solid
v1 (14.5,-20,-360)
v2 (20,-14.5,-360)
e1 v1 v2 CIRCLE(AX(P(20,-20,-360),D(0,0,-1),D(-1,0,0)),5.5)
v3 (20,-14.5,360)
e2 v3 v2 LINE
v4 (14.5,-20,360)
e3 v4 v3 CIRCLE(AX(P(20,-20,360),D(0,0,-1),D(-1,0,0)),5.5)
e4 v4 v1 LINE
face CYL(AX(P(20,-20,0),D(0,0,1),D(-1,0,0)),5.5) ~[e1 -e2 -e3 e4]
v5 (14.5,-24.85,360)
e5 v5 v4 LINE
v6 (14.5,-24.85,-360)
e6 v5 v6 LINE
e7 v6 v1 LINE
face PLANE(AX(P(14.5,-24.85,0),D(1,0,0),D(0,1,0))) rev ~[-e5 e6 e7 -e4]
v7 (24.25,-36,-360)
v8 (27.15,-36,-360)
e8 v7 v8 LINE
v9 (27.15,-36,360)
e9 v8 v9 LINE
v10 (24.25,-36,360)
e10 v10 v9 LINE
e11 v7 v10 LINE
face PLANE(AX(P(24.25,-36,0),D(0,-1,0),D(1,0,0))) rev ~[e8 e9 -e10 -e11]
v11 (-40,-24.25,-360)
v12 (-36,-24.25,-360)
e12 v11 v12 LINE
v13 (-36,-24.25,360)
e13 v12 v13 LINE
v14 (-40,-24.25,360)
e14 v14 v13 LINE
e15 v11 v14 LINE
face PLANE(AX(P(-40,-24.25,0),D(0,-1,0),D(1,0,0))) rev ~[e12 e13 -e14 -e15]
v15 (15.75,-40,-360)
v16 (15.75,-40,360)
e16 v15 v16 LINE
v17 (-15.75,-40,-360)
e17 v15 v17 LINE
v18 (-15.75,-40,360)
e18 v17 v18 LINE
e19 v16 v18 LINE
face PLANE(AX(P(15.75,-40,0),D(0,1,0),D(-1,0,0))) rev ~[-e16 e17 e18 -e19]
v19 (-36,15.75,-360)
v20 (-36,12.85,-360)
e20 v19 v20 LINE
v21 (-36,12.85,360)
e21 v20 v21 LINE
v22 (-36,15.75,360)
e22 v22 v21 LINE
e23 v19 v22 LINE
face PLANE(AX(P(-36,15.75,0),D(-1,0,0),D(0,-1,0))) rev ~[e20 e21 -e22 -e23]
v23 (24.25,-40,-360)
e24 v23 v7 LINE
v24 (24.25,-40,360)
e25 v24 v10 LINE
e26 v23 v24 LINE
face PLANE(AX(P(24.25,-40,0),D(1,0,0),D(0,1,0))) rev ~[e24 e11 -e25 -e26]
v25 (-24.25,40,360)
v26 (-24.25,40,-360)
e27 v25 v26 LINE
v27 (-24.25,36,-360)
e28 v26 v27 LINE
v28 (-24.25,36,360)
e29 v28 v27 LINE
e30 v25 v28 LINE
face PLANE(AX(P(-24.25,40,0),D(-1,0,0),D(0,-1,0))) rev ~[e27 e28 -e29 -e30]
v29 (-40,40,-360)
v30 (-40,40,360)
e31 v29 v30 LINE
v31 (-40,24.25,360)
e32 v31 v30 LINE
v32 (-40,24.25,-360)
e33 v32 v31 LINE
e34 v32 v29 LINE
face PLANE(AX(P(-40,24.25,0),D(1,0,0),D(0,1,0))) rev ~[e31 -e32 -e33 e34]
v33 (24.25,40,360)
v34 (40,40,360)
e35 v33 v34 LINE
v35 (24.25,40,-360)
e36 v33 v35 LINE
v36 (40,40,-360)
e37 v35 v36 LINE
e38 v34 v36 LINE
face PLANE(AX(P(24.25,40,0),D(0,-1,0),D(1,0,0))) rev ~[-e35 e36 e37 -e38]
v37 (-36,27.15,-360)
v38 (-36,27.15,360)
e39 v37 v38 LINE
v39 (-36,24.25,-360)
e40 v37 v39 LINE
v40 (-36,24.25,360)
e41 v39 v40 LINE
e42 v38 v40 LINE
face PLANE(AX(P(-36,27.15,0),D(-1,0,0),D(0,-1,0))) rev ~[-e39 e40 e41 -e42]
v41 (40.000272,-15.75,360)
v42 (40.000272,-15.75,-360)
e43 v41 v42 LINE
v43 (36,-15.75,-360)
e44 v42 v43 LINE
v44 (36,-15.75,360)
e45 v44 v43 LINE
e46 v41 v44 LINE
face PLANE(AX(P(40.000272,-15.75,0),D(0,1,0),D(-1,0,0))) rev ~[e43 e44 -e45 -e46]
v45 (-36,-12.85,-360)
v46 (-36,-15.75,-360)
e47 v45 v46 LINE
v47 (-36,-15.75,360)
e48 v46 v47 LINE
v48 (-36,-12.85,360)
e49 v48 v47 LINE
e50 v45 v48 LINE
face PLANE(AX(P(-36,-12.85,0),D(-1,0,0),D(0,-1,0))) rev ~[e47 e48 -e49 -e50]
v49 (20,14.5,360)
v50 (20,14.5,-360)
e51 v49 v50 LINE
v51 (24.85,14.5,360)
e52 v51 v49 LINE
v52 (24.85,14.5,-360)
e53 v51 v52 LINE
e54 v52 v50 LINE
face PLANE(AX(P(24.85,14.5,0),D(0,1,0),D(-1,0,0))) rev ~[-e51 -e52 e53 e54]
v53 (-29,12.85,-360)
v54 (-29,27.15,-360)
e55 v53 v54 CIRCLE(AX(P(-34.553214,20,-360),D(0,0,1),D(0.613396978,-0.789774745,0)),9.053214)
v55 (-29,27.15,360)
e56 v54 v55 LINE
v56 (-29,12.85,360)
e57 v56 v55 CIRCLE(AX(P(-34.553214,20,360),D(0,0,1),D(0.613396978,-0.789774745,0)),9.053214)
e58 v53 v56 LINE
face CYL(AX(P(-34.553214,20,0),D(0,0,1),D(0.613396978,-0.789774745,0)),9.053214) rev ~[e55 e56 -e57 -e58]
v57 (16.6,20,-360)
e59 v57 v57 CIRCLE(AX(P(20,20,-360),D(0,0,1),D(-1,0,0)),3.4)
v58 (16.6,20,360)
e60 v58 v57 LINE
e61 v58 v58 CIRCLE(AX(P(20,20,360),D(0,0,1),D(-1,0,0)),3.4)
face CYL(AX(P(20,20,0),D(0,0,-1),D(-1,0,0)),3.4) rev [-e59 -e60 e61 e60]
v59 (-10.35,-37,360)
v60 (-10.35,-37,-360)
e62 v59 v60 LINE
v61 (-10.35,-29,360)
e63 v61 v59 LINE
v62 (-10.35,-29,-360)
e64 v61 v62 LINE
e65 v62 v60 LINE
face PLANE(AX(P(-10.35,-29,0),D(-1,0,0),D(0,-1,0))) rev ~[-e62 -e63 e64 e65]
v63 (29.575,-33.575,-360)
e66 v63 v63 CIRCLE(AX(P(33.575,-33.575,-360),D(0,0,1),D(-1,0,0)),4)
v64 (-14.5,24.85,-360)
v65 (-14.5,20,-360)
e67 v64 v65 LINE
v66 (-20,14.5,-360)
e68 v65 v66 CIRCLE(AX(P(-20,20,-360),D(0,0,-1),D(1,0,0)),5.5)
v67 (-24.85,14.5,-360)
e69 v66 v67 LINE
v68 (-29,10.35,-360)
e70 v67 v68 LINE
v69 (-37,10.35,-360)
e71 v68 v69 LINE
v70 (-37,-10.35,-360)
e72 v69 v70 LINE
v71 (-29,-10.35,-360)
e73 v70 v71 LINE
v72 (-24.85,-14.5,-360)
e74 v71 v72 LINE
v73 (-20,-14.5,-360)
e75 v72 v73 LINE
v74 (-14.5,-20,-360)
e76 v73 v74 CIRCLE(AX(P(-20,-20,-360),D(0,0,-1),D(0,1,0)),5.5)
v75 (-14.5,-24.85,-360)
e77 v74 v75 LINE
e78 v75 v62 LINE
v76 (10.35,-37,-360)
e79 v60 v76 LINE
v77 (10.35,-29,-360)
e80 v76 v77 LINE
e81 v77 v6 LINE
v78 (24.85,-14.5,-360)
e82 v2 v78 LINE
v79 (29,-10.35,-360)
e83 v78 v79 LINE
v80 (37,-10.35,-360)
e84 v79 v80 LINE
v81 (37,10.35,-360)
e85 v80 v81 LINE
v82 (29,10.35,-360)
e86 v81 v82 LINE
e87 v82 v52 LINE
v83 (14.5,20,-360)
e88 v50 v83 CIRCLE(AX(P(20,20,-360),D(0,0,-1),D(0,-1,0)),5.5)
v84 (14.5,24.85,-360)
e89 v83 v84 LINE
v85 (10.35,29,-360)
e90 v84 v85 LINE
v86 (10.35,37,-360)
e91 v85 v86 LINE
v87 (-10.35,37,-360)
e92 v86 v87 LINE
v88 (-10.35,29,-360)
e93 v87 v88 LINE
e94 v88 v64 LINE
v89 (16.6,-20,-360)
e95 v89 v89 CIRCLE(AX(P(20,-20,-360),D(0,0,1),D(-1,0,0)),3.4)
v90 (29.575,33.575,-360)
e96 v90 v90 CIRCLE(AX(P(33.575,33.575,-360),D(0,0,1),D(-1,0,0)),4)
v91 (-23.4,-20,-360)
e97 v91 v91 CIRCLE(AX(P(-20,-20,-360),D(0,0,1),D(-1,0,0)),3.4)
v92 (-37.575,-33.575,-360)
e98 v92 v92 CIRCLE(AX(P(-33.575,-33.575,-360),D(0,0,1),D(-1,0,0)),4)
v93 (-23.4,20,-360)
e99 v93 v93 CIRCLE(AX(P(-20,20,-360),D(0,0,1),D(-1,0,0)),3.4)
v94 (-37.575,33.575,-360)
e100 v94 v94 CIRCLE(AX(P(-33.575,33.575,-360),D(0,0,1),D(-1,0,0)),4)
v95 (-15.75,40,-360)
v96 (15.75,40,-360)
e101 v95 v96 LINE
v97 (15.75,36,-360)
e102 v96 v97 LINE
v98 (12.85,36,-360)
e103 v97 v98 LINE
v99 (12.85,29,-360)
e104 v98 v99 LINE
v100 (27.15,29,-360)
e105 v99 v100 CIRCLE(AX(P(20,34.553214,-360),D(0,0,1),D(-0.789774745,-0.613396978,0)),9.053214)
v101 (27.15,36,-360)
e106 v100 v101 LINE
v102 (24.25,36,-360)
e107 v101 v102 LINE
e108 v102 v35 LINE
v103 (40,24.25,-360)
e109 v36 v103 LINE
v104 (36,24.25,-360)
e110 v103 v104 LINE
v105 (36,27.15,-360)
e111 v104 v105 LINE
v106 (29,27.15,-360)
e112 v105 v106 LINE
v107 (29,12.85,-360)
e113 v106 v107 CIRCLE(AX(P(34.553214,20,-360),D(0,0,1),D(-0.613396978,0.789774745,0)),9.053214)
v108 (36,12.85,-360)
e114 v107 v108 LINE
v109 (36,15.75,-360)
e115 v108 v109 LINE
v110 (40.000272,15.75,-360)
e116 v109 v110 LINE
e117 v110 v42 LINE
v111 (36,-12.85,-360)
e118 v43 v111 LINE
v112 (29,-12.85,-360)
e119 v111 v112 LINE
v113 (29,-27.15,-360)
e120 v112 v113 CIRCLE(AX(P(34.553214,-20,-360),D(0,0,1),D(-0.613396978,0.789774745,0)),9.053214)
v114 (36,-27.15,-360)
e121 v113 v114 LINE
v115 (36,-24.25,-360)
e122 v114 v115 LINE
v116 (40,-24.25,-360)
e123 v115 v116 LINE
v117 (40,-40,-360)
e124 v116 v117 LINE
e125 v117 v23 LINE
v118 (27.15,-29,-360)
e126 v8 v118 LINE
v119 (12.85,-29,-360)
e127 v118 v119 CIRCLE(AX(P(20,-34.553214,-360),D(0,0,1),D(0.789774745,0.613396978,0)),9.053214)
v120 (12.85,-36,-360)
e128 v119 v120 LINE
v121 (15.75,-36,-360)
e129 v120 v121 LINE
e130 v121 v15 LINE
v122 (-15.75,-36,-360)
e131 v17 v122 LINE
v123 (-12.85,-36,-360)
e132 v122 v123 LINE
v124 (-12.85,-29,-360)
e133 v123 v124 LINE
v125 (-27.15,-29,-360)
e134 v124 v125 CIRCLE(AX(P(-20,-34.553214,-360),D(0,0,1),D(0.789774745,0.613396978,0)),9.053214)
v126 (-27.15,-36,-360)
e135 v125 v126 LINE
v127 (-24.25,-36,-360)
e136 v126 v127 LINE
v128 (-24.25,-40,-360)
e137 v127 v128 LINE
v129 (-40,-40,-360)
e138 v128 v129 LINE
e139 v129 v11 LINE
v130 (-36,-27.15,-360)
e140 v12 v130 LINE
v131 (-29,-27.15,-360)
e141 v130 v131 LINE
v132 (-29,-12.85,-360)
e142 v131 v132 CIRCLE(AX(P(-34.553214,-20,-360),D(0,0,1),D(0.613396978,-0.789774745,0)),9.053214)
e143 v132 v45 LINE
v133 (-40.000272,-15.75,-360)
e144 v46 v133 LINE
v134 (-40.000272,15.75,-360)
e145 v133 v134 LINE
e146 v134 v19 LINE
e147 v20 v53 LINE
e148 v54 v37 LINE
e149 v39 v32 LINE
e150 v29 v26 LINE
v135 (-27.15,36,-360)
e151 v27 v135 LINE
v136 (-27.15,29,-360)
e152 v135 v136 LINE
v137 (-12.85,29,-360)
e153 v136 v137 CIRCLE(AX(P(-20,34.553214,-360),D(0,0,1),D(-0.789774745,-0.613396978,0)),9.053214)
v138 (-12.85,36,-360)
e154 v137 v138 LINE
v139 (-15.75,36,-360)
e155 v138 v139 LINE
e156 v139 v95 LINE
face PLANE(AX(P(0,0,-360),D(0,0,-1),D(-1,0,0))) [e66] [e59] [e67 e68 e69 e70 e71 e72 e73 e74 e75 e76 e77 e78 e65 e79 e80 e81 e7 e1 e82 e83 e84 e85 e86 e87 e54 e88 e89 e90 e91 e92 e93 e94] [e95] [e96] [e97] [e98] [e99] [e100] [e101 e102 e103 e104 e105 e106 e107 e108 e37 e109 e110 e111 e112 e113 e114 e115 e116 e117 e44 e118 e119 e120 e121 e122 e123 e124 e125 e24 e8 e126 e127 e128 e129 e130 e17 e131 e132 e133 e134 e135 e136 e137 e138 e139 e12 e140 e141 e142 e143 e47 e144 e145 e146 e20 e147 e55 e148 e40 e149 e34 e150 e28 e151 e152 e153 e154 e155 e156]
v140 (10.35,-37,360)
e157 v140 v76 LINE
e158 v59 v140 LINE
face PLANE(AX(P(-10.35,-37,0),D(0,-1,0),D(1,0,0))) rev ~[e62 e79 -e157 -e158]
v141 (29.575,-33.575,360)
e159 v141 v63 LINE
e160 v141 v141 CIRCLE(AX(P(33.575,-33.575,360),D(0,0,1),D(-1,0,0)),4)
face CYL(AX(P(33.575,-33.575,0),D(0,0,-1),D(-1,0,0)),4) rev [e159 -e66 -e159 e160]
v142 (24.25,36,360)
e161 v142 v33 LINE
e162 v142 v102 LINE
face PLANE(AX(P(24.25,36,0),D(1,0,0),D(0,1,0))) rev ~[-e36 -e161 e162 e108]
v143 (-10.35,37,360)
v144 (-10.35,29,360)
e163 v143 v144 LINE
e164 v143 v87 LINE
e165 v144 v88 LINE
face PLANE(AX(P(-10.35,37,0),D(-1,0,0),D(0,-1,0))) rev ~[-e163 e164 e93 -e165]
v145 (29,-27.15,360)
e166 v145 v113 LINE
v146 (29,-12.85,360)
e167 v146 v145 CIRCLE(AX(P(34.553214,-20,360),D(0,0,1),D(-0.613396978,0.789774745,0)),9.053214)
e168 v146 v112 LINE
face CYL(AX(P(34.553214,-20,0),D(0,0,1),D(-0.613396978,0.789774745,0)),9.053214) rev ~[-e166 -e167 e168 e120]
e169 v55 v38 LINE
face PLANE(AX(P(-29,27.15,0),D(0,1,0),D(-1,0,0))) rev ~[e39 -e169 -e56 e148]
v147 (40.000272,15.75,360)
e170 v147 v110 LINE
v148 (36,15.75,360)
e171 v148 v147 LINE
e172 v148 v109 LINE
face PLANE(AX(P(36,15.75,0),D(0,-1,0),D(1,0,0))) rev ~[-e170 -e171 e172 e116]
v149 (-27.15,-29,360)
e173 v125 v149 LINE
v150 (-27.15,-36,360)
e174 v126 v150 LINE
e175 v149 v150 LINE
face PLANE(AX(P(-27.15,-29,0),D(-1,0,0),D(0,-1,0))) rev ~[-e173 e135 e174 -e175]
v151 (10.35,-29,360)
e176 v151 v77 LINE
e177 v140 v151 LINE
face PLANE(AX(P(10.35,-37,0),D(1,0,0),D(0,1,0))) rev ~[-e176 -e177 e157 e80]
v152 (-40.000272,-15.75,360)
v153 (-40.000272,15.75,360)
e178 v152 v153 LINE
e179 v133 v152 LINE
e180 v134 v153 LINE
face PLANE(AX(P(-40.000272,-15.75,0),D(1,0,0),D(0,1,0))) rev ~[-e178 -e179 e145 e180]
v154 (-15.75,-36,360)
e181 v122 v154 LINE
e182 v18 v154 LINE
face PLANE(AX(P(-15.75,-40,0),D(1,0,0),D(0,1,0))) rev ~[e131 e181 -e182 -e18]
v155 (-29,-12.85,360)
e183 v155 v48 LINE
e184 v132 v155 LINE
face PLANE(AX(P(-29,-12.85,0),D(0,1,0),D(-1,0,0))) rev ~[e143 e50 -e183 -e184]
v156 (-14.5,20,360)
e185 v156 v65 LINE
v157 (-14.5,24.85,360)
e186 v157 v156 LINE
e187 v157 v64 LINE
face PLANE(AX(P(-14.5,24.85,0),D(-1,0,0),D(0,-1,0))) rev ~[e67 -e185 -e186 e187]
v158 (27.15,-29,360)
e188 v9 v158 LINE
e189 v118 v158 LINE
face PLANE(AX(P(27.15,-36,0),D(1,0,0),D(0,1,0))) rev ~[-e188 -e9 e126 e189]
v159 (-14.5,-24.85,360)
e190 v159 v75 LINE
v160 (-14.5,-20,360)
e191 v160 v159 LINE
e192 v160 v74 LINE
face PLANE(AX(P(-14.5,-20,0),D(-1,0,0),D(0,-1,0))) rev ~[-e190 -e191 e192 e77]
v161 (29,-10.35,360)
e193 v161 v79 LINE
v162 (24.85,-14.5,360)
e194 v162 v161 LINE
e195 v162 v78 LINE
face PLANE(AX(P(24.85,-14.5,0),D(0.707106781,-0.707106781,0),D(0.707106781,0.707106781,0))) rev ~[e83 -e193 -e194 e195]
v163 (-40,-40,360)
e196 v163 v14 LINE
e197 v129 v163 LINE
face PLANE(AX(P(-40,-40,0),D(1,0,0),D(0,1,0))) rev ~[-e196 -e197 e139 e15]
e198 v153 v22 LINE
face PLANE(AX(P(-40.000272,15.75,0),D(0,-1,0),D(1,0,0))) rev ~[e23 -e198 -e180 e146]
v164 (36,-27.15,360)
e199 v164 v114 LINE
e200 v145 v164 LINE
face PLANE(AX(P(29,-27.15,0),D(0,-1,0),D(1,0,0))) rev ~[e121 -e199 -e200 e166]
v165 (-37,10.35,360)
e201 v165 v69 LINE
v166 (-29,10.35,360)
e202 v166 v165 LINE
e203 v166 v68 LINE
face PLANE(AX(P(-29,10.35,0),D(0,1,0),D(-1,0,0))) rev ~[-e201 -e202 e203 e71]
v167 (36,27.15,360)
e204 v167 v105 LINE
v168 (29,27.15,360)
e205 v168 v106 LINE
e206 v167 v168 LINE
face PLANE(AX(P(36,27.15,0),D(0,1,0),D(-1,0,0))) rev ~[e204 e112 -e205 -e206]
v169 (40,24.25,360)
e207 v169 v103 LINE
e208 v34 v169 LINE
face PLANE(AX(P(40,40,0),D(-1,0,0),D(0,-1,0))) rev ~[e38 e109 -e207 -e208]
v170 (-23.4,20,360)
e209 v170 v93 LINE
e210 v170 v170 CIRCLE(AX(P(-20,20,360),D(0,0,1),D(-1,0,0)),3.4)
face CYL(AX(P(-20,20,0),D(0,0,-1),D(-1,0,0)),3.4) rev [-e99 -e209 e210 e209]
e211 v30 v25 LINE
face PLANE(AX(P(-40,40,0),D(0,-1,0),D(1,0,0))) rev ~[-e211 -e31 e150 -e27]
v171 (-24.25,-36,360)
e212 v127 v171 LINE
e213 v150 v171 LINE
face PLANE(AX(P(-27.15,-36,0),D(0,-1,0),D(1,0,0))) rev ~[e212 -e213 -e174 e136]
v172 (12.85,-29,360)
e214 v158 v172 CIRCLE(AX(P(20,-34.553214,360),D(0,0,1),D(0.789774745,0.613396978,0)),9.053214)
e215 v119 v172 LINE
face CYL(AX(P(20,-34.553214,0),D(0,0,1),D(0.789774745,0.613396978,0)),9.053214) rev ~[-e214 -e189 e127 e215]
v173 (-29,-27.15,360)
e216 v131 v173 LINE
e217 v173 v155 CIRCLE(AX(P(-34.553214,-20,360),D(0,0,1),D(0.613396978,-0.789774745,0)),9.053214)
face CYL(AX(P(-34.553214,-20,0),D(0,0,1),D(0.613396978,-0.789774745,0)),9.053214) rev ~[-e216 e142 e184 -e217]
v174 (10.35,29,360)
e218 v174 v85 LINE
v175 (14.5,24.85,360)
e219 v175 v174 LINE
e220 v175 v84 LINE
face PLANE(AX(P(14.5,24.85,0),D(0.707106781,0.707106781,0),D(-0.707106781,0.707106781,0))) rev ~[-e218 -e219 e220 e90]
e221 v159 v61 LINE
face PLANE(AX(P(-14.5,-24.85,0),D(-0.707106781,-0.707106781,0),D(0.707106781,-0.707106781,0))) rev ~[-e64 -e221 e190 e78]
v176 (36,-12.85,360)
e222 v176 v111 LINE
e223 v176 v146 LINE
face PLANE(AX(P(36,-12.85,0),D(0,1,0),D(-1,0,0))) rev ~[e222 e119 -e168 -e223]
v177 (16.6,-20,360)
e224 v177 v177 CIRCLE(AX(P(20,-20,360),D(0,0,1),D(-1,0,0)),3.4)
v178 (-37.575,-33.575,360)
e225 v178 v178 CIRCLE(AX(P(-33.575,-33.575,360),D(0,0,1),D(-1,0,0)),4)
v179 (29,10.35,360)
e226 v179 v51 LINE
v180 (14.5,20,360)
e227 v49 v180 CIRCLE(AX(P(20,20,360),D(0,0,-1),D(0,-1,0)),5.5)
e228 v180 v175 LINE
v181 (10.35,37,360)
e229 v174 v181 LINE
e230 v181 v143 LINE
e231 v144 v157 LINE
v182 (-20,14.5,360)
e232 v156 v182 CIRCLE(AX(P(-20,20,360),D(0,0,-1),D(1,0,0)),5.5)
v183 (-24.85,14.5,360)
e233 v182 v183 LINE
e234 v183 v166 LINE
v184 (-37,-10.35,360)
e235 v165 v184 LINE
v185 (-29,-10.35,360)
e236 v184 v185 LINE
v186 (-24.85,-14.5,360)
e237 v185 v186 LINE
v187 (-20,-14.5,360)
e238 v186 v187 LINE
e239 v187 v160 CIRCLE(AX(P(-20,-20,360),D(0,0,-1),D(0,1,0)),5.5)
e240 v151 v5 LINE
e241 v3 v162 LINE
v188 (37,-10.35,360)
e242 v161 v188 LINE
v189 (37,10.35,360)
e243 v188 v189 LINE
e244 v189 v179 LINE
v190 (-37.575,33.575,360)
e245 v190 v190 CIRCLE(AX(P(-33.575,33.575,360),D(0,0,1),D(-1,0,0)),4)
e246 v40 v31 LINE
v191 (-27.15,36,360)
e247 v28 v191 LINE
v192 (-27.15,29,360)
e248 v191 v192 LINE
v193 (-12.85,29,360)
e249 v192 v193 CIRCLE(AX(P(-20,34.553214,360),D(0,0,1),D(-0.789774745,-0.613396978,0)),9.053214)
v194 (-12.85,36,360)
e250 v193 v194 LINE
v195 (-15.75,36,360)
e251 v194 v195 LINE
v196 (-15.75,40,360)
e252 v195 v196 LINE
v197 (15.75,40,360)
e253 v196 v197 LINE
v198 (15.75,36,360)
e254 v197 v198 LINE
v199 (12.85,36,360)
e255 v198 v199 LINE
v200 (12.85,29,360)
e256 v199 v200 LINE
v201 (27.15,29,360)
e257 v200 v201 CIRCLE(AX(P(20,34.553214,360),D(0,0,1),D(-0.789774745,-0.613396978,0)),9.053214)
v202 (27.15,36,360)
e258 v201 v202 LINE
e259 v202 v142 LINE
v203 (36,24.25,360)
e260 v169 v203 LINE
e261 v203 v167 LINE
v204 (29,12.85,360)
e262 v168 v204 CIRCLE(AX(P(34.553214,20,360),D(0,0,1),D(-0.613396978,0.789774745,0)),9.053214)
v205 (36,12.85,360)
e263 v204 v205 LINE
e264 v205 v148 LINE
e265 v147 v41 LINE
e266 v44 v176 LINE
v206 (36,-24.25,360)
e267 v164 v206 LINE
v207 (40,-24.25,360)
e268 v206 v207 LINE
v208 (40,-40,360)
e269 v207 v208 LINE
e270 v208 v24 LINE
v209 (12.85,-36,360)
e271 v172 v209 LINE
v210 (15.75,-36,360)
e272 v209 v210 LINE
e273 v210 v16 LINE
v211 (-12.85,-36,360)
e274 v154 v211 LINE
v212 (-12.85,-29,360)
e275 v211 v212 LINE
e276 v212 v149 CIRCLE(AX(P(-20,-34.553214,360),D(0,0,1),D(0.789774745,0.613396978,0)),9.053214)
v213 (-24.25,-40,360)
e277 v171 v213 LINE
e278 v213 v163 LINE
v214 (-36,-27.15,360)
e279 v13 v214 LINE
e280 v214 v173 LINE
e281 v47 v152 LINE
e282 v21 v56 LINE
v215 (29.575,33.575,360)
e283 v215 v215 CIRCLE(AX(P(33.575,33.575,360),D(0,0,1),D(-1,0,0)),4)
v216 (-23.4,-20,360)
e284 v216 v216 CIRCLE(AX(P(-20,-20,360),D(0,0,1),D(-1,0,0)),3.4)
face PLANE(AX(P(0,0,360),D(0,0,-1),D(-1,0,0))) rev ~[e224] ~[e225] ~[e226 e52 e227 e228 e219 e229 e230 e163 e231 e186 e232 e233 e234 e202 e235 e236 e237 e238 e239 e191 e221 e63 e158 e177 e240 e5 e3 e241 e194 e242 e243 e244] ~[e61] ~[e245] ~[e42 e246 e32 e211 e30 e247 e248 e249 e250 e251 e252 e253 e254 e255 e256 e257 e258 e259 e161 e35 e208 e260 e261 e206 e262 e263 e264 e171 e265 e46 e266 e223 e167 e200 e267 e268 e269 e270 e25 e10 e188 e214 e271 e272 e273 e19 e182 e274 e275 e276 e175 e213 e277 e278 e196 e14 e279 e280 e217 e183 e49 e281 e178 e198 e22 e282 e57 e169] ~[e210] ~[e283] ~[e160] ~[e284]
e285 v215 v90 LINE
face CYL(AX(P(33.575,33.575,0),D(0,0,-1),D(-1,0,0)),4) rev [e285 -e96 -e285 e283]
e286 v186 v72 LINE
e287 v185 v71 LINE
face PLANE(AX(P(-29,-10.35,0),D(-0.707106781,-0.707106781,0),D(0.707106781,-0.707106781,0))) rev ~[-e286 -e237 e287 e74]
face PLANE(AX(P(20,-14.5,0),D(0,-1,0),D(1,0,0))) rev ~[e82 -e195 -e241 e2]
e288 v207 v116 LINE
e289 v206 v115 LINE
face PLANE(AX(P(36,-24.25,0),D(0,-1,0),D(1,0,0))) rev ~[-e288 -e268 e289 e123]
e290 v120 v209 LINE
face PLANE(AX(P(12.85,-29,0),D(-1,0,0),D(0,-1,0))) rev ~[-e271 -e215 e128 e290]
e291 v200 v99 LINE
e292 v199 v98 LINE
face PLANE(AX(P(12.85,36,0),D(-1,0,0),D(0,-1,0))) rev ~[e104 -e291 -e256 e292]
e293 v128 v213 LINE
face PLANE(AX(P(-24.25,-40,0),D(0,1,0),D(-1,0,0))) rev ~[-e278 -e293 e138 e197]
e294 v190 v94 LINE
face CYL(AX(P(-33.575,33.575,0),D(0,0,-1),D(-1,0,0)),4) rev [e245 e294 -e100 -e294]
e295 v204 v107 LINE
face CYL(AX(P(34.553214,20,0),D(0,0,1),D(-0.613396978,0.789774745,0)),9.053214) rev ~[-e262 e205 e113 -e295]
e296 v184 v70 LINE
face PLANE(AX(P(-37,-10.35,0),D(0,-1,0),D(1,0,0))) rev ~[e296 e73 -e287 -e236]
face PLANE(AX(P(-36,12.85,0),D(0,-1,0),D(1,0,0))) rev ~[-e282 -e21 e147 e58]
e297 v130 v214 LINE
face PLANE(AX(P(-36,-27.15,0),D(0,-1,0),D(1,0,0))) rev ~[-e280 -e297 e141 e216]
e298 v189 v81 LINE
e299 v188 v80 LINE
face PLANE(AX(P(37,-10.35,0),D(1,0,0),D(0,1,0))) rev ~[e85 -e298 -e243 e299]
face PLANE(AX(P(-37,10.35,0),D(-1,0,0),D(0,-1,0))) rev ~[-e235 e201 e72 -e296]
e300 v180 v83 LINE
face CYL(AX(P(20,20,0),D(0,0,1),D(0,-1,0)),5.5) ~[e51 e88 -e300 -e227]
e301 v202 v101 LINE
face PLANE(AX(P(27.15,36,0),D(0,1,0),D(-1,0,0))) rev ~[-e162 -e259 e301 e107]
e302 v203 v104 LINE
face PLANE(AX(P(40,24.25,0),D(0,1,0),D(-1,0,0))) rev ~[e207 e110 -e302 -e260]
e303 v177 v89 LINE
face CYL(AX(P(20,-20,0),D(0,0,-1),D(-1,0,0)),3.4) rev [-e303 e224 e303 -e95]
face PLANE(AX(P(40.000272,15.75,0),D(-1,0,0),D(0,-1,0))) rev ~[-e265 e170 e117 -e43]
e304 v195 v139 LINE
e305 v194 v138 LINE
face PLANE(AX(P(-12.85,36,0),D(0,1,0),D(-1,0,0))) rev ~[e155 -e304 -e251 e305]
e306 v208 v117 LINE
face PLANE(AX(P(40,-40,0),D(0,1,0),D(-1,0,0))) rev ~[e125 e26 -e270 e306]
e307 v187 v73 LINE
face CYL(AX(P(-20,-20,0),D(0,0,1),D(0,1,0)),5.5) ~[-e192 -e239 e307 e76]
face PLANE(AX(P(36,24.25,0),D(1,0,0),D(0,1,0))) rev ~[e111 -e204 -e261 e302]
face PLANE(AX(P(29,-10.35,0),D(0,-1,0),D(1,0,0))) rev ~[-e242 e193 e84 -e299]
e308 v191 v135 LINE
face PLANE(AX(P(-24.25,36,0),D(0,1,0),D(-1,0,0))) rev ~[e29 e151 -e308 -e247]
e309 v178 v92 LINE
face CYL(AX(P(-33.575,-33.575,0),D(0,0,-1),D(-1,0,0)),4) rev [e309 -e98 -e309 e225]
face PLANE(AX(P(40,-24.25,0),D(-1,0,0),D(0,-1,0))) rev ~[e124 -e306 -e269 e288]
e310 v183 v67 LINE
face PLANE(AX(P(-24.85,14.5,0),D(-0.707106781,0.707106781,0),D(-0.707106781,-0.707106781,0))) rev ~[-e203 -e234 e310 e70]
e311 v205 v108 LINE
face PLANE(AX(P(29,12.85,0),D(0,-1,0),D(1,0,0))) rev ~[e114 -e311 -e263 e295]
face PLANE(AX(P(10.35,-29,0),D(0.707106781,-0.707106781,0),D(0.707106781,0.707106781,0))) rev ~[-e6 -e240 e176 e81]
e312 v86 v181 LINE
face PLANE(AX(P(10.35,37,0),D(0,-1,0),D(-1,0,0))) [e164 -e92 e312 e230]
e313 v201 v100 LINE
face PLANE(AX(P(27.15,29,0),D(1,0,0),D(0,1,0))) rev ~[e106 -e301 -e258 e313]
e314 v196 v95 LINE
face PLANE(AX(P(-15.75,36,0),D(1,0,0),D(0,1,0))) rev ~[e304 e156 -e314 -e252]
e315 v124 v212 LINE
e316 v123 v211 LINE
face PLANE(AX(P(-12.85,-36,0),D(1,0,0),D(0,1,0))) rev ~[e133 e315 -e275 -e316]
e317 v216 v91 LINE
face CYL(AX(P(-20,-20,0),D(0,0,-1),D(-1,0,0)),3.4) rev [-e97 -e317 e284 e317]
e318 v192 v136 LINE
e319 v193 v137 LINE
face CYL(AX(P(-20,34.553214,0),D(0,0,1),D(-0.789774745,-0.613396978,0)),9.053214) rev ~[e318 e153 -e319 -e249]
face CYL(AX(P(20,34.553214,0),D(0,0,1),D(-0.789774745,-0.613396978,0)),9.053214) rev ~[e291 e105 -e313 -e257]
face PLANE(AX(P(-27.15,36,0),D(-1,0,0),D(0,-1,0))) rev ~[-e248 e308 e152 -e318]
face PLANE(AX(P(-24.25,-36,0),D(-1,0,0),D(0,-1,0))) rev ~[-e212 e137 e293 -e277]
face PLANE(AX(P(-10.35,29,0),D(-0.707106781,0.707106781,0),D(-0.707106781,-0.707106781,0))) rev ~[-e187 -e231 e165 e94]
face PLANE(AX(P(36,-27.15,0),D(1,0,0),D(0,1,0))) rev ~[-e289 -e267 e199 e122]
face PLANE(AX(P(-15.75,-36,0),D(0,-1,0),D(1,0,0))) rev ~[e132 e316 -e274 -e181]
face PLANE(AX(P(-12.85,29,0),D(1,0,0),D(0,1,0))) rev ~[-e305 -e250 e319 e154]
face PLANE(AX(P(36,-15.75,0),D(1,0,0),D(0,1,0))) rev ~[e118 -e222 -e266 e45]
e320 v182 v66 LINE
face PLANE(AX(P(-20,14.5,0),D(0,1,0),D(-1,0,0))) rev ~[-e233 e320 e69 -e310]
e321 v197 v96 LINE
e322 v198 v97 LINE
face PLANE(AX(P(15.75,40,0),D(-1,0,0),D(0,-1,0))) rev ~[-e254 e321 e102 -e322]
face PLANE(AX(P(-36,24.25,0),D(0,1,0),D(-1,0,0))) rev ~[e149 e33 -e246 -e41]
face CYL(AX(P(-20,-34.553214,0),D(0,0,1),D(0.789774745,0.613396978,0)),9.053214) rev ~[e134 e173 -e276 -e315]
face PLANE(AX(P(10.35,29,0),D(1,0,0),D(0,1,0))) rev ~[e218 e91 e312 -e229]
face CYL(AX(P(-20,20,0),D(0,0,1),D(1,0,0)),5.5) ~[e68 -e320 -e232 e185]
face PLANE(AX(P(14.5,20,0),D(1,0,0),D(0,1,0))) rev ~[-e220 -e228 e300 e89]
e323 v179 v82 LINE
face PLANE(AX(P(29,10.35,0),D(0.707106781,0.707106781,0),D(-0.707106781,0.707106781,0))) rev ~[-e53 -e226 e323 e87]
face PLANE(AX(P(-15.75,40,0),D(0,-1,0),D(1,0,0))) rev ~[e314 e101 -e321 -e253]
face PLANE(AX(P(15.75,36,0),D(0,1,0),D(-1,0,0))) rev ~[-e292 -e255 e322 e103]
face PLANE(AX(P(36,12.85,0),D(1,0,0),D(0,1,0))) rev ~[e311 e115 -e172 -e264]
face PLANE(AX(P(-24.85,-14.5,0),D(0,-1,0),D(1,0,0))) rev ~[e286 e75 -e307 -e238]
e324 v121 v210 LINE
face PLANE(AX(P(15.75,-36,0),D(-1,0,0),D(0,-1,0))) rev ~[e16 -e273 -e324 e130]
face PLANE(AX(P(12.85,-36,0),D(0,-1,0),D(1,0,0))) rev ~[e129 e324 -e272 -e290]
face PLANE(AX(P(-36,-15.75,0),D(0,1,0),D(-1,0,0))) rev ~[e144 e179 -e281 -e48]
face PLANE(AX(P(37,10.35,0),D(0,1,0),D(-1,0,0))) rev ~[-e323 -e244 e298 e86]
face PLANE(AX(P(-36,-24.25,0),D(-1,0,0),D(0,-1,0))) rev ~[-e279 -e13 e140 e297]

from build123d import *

# Parameters (mm, degrees)
SKETCH_1_R      = 3.4
SKETCH_1_R_2    = 4
EXTRUDE_1_DEPTH = 360


with BuildPart() as part:
    # 草图1 → 凸台-拉伸1 (new, symmetric)
    with BuildSketch(Plane.XY):
        with BuildLine():
            Line((-40, 40), (-24.25, 40))
            Line((-24.25, 40), (-24.25, 36))
            Line((-24.25, 36), (-27.15, 36))
            Line((-27.15, 36), (-27.15, 29))
            ThreePointArc((-27.15, 29), (-20, 25.5), (-12.85, 29))
            Line((-12.85, 29), (-12.85, 36))
            Line((-12.85, 36), (-15.75, 36))
            Line((-15.75, 36), (-15.75, 40))
            Line((-15.75, 40), (15.75, 40))
            Line((15.75, 40), (15.75, 36))
            Line((15.75, 36), (12.85, 36))
            Line((12.85, 36), (12.85, 29))
            ThreePointArc((12.85, 29), (20, 25.5), (27.15, 29))
            Line((27.15, 29), (27.15, 36))
            Line((27.15, 36), (24.25, 36))
            Line((24.25, 36), (24.25, 40))
            Line((24.25, 40), (40, 40))
            Line((40, 40), (40, 24.25))
            Line((40, 24.25), (36, 24.25))
            Line((36, 24.25), (36, 27.15))
            Line((36, 27.15), (29, 27.15))
            ThreePointArc((29, 27.15), (25.5, 20), (29, 12.85))
            Line((29, 12.85), (36, 12.85))
            Line((36, 12.85), (36, 15.75))
            Line((36, 15.75), (40.000271684, 15.75))
            Line((40.000271684, 15.75), (40.000271684, -15.75))
            Line((40.000271684, -15.75), (36, -15.75))
            Line((36, -15.75), (36, -12.85))
            Line((36, -12.85), (29, -12.85))
            ThreePointArc((29, -12.85), (25.5, -20), (29, -27.15))
            Line((29, -27.15), (36, -27.15))
            Line((36, -27.15), (36, -24.25))
            Line((36, -24.25), (40, -24.25))
            Line((40, -24.25), (40, -40))
            Line((40, -40), (24.25, -40))
            Line((24.25, -40), (24.25, -36))
            Line((24.25, -36), (27.15, -36))
            Line((27.15, -36), (27.15, -29))
            ThreePointArc((27.15, -29), (20, -25.5), (12.85, -29))
            Line((12.85, -29), (12.85, -36))
            Line((12.85, -36), (15.75, -36))
            Line((15.75, -36), (15.75, -40))
            Line((15.75, -40), (-15.75, -40))
            Line((-15.75, -40), (-15.75, -36))
            Line((-15.75, -36), (-12.85, -36))
            Line((-12.85, -36), (-12.85, -29))
            ThreePointArc((-12.85, -29), (-20, -25.5), (-27.15, -29))
            Line((-27.15, -29), (-27.15, -36))
            Line((-27.15, -36), (-24.25, -36))
            Line((-24.25, -36), (-24.25, -40))
            Line((-24.25, -40), (-40, -40))
            Line((-40, -40), (-40, -24.25))
            Line((-40, -24.25), (-36, -24.25))
            Line((-36, -24.25), (-36, -27.15))
            Line((-36, -27.15), (-29, -27.15))
            ThreePointArc((-29, -27.15), (-25.5, -20), (-29, -12.85))
            Line((-29, -12.85), (-36, -12.85))
            Line((-36, -12.85), (-36, -15.75))
            Line((-36, -15.75), (-40.000271684, -15.75))
            Line((-40.000271684, -15.75), (-40.000271684, 15.75))
            Line((-40.000271684, 15.75), (-36, 15.75))
            Line((-36, 15.75), (-36, 12.85))
            Line((-36, 12.85), (-29, 12.85))
            ThreePointArc((-29, 12.85), (-25.5, 20), (-29, 27.15))
            Line((-29, 27.15), (-36, 27.15))
            Line((-36, 27.15), (-36, 24.25))
            Line((-36, 24.25), (-40, 24.25))
            Line((-40, 24.25), (-40, 40))
        make_face()
        with Locations(Location((-20, 20, 0), (0, 0, 180))):
            Circle(SKETCH_1_R, mode=Mode.SUBTRACT)
        with Locations(Location((-33.575, 33.575, 0), (0, 0, 180))):
            Circle(SKETCH_1_R_2, mode=Mode.SUBTRACT)
        with Locations(Location((33.575, 33.575, 0), (0, 0, 180))):
            Circle(SKETCH_1_R_2, mode=Mode.SUBTRACT)
        with Locations(Location((20, 20, 0), (0, 0, 180))):
            Circle(SKETCH_1_R, mode=Mode.SUBTRACT)
        with Locations(Location((20, -20, 0), (0, 0, 180))):
            Circle(SKETCH_1_R, mode=Mode.SUBTRACT)
        with Locations(Location((33.575, -33.575, 0), (0, 0, 180))):
            Circle(SKETCH_1_R_2, mode=Mode.SUBTRACT)
        with Locations(Location((-33.575, -33.575, 0), (0, 0, 180))):
            Circle(SKETCH_1_R_2, mode=Mode.SUBTRACT)
        with Locations(Location((-20, -20, 0), (0, 0, 180))):
            Circle(SKETCH_1_R, mode=Mode.SUBTRACT)
        with BuildLine():
            Line((10.35, 37), (-10.35, 37))
            Line((-10.35, 37), (-10.35, 29))
            Line((-10.35, 29), (-14.5, 24.85))
            Line((-14.5, 24.85), (-14.5, 20))
            ThreePointArc((-14.5, 20), (-16.110912703, 16.110912703), (-20, 14.5))
            Line((-20, 14.5), (-24.85, 14.5))
            Line((-24.85, 14.5), (-29, 10.35))
            Line((-29, 10.35), (-37, 10.35))
            Line((-37, 10.35), (-37, -10.35))
            Line((-37, -10.35), (-29, -10.35))
            Line((-29, -10.35), (-24.85, -14.5))
            Line((-24.85, -14.5), (-20, -14.5))
            ThreePointArc((-20, -14.5), (-16.110912703, -16.110912703), (-14.5, -20))
            Line((-14.5, -20), (-14.5, -24.85))
            Line((-14.5, -24.85), (-10.35, -29))
            Line((-10.35, -29), (-10.35, -37))
            Line((-10.35, -37), (10.35, -37))
            Line((10.35, -37), (10.35, -29))
            Line((10.35, -29), (14.5, -24.85))
            Line((14.5, -24.85), (14.5, -20))
            ThreePointArc((14.5, -20), (16.110912703, -16.110912703), (20, -14.5))
            Line((20, -14.5), (24.85, -14.5))
            Line((24.85, -14.5), (29, -10.35))
            Line((29, -10.35), (37, -10.35))
            Line((37, -10.35), (37, 10.35))
            Line((37, 10.35), (29, 10.35))
            Line((29, 10.35), (24.85, 14.5))
            Line((24.85, 14.5), (20, 14.5))
            ThreePointArc((20, 14.5), (16.110912703, 16.110912703), (14.5, 20))
            Line((14.5, 20), (14.5, 24.85))
            Line((14.5, 24.85), (10.35, 29))
            Line((10.35, 29), (10.35, 37))
        make_face(mode=Mode.SUBTRACT)
    extrude(amount=EXTRUDE_1_DEPTH, both=True)


solid = part.part
